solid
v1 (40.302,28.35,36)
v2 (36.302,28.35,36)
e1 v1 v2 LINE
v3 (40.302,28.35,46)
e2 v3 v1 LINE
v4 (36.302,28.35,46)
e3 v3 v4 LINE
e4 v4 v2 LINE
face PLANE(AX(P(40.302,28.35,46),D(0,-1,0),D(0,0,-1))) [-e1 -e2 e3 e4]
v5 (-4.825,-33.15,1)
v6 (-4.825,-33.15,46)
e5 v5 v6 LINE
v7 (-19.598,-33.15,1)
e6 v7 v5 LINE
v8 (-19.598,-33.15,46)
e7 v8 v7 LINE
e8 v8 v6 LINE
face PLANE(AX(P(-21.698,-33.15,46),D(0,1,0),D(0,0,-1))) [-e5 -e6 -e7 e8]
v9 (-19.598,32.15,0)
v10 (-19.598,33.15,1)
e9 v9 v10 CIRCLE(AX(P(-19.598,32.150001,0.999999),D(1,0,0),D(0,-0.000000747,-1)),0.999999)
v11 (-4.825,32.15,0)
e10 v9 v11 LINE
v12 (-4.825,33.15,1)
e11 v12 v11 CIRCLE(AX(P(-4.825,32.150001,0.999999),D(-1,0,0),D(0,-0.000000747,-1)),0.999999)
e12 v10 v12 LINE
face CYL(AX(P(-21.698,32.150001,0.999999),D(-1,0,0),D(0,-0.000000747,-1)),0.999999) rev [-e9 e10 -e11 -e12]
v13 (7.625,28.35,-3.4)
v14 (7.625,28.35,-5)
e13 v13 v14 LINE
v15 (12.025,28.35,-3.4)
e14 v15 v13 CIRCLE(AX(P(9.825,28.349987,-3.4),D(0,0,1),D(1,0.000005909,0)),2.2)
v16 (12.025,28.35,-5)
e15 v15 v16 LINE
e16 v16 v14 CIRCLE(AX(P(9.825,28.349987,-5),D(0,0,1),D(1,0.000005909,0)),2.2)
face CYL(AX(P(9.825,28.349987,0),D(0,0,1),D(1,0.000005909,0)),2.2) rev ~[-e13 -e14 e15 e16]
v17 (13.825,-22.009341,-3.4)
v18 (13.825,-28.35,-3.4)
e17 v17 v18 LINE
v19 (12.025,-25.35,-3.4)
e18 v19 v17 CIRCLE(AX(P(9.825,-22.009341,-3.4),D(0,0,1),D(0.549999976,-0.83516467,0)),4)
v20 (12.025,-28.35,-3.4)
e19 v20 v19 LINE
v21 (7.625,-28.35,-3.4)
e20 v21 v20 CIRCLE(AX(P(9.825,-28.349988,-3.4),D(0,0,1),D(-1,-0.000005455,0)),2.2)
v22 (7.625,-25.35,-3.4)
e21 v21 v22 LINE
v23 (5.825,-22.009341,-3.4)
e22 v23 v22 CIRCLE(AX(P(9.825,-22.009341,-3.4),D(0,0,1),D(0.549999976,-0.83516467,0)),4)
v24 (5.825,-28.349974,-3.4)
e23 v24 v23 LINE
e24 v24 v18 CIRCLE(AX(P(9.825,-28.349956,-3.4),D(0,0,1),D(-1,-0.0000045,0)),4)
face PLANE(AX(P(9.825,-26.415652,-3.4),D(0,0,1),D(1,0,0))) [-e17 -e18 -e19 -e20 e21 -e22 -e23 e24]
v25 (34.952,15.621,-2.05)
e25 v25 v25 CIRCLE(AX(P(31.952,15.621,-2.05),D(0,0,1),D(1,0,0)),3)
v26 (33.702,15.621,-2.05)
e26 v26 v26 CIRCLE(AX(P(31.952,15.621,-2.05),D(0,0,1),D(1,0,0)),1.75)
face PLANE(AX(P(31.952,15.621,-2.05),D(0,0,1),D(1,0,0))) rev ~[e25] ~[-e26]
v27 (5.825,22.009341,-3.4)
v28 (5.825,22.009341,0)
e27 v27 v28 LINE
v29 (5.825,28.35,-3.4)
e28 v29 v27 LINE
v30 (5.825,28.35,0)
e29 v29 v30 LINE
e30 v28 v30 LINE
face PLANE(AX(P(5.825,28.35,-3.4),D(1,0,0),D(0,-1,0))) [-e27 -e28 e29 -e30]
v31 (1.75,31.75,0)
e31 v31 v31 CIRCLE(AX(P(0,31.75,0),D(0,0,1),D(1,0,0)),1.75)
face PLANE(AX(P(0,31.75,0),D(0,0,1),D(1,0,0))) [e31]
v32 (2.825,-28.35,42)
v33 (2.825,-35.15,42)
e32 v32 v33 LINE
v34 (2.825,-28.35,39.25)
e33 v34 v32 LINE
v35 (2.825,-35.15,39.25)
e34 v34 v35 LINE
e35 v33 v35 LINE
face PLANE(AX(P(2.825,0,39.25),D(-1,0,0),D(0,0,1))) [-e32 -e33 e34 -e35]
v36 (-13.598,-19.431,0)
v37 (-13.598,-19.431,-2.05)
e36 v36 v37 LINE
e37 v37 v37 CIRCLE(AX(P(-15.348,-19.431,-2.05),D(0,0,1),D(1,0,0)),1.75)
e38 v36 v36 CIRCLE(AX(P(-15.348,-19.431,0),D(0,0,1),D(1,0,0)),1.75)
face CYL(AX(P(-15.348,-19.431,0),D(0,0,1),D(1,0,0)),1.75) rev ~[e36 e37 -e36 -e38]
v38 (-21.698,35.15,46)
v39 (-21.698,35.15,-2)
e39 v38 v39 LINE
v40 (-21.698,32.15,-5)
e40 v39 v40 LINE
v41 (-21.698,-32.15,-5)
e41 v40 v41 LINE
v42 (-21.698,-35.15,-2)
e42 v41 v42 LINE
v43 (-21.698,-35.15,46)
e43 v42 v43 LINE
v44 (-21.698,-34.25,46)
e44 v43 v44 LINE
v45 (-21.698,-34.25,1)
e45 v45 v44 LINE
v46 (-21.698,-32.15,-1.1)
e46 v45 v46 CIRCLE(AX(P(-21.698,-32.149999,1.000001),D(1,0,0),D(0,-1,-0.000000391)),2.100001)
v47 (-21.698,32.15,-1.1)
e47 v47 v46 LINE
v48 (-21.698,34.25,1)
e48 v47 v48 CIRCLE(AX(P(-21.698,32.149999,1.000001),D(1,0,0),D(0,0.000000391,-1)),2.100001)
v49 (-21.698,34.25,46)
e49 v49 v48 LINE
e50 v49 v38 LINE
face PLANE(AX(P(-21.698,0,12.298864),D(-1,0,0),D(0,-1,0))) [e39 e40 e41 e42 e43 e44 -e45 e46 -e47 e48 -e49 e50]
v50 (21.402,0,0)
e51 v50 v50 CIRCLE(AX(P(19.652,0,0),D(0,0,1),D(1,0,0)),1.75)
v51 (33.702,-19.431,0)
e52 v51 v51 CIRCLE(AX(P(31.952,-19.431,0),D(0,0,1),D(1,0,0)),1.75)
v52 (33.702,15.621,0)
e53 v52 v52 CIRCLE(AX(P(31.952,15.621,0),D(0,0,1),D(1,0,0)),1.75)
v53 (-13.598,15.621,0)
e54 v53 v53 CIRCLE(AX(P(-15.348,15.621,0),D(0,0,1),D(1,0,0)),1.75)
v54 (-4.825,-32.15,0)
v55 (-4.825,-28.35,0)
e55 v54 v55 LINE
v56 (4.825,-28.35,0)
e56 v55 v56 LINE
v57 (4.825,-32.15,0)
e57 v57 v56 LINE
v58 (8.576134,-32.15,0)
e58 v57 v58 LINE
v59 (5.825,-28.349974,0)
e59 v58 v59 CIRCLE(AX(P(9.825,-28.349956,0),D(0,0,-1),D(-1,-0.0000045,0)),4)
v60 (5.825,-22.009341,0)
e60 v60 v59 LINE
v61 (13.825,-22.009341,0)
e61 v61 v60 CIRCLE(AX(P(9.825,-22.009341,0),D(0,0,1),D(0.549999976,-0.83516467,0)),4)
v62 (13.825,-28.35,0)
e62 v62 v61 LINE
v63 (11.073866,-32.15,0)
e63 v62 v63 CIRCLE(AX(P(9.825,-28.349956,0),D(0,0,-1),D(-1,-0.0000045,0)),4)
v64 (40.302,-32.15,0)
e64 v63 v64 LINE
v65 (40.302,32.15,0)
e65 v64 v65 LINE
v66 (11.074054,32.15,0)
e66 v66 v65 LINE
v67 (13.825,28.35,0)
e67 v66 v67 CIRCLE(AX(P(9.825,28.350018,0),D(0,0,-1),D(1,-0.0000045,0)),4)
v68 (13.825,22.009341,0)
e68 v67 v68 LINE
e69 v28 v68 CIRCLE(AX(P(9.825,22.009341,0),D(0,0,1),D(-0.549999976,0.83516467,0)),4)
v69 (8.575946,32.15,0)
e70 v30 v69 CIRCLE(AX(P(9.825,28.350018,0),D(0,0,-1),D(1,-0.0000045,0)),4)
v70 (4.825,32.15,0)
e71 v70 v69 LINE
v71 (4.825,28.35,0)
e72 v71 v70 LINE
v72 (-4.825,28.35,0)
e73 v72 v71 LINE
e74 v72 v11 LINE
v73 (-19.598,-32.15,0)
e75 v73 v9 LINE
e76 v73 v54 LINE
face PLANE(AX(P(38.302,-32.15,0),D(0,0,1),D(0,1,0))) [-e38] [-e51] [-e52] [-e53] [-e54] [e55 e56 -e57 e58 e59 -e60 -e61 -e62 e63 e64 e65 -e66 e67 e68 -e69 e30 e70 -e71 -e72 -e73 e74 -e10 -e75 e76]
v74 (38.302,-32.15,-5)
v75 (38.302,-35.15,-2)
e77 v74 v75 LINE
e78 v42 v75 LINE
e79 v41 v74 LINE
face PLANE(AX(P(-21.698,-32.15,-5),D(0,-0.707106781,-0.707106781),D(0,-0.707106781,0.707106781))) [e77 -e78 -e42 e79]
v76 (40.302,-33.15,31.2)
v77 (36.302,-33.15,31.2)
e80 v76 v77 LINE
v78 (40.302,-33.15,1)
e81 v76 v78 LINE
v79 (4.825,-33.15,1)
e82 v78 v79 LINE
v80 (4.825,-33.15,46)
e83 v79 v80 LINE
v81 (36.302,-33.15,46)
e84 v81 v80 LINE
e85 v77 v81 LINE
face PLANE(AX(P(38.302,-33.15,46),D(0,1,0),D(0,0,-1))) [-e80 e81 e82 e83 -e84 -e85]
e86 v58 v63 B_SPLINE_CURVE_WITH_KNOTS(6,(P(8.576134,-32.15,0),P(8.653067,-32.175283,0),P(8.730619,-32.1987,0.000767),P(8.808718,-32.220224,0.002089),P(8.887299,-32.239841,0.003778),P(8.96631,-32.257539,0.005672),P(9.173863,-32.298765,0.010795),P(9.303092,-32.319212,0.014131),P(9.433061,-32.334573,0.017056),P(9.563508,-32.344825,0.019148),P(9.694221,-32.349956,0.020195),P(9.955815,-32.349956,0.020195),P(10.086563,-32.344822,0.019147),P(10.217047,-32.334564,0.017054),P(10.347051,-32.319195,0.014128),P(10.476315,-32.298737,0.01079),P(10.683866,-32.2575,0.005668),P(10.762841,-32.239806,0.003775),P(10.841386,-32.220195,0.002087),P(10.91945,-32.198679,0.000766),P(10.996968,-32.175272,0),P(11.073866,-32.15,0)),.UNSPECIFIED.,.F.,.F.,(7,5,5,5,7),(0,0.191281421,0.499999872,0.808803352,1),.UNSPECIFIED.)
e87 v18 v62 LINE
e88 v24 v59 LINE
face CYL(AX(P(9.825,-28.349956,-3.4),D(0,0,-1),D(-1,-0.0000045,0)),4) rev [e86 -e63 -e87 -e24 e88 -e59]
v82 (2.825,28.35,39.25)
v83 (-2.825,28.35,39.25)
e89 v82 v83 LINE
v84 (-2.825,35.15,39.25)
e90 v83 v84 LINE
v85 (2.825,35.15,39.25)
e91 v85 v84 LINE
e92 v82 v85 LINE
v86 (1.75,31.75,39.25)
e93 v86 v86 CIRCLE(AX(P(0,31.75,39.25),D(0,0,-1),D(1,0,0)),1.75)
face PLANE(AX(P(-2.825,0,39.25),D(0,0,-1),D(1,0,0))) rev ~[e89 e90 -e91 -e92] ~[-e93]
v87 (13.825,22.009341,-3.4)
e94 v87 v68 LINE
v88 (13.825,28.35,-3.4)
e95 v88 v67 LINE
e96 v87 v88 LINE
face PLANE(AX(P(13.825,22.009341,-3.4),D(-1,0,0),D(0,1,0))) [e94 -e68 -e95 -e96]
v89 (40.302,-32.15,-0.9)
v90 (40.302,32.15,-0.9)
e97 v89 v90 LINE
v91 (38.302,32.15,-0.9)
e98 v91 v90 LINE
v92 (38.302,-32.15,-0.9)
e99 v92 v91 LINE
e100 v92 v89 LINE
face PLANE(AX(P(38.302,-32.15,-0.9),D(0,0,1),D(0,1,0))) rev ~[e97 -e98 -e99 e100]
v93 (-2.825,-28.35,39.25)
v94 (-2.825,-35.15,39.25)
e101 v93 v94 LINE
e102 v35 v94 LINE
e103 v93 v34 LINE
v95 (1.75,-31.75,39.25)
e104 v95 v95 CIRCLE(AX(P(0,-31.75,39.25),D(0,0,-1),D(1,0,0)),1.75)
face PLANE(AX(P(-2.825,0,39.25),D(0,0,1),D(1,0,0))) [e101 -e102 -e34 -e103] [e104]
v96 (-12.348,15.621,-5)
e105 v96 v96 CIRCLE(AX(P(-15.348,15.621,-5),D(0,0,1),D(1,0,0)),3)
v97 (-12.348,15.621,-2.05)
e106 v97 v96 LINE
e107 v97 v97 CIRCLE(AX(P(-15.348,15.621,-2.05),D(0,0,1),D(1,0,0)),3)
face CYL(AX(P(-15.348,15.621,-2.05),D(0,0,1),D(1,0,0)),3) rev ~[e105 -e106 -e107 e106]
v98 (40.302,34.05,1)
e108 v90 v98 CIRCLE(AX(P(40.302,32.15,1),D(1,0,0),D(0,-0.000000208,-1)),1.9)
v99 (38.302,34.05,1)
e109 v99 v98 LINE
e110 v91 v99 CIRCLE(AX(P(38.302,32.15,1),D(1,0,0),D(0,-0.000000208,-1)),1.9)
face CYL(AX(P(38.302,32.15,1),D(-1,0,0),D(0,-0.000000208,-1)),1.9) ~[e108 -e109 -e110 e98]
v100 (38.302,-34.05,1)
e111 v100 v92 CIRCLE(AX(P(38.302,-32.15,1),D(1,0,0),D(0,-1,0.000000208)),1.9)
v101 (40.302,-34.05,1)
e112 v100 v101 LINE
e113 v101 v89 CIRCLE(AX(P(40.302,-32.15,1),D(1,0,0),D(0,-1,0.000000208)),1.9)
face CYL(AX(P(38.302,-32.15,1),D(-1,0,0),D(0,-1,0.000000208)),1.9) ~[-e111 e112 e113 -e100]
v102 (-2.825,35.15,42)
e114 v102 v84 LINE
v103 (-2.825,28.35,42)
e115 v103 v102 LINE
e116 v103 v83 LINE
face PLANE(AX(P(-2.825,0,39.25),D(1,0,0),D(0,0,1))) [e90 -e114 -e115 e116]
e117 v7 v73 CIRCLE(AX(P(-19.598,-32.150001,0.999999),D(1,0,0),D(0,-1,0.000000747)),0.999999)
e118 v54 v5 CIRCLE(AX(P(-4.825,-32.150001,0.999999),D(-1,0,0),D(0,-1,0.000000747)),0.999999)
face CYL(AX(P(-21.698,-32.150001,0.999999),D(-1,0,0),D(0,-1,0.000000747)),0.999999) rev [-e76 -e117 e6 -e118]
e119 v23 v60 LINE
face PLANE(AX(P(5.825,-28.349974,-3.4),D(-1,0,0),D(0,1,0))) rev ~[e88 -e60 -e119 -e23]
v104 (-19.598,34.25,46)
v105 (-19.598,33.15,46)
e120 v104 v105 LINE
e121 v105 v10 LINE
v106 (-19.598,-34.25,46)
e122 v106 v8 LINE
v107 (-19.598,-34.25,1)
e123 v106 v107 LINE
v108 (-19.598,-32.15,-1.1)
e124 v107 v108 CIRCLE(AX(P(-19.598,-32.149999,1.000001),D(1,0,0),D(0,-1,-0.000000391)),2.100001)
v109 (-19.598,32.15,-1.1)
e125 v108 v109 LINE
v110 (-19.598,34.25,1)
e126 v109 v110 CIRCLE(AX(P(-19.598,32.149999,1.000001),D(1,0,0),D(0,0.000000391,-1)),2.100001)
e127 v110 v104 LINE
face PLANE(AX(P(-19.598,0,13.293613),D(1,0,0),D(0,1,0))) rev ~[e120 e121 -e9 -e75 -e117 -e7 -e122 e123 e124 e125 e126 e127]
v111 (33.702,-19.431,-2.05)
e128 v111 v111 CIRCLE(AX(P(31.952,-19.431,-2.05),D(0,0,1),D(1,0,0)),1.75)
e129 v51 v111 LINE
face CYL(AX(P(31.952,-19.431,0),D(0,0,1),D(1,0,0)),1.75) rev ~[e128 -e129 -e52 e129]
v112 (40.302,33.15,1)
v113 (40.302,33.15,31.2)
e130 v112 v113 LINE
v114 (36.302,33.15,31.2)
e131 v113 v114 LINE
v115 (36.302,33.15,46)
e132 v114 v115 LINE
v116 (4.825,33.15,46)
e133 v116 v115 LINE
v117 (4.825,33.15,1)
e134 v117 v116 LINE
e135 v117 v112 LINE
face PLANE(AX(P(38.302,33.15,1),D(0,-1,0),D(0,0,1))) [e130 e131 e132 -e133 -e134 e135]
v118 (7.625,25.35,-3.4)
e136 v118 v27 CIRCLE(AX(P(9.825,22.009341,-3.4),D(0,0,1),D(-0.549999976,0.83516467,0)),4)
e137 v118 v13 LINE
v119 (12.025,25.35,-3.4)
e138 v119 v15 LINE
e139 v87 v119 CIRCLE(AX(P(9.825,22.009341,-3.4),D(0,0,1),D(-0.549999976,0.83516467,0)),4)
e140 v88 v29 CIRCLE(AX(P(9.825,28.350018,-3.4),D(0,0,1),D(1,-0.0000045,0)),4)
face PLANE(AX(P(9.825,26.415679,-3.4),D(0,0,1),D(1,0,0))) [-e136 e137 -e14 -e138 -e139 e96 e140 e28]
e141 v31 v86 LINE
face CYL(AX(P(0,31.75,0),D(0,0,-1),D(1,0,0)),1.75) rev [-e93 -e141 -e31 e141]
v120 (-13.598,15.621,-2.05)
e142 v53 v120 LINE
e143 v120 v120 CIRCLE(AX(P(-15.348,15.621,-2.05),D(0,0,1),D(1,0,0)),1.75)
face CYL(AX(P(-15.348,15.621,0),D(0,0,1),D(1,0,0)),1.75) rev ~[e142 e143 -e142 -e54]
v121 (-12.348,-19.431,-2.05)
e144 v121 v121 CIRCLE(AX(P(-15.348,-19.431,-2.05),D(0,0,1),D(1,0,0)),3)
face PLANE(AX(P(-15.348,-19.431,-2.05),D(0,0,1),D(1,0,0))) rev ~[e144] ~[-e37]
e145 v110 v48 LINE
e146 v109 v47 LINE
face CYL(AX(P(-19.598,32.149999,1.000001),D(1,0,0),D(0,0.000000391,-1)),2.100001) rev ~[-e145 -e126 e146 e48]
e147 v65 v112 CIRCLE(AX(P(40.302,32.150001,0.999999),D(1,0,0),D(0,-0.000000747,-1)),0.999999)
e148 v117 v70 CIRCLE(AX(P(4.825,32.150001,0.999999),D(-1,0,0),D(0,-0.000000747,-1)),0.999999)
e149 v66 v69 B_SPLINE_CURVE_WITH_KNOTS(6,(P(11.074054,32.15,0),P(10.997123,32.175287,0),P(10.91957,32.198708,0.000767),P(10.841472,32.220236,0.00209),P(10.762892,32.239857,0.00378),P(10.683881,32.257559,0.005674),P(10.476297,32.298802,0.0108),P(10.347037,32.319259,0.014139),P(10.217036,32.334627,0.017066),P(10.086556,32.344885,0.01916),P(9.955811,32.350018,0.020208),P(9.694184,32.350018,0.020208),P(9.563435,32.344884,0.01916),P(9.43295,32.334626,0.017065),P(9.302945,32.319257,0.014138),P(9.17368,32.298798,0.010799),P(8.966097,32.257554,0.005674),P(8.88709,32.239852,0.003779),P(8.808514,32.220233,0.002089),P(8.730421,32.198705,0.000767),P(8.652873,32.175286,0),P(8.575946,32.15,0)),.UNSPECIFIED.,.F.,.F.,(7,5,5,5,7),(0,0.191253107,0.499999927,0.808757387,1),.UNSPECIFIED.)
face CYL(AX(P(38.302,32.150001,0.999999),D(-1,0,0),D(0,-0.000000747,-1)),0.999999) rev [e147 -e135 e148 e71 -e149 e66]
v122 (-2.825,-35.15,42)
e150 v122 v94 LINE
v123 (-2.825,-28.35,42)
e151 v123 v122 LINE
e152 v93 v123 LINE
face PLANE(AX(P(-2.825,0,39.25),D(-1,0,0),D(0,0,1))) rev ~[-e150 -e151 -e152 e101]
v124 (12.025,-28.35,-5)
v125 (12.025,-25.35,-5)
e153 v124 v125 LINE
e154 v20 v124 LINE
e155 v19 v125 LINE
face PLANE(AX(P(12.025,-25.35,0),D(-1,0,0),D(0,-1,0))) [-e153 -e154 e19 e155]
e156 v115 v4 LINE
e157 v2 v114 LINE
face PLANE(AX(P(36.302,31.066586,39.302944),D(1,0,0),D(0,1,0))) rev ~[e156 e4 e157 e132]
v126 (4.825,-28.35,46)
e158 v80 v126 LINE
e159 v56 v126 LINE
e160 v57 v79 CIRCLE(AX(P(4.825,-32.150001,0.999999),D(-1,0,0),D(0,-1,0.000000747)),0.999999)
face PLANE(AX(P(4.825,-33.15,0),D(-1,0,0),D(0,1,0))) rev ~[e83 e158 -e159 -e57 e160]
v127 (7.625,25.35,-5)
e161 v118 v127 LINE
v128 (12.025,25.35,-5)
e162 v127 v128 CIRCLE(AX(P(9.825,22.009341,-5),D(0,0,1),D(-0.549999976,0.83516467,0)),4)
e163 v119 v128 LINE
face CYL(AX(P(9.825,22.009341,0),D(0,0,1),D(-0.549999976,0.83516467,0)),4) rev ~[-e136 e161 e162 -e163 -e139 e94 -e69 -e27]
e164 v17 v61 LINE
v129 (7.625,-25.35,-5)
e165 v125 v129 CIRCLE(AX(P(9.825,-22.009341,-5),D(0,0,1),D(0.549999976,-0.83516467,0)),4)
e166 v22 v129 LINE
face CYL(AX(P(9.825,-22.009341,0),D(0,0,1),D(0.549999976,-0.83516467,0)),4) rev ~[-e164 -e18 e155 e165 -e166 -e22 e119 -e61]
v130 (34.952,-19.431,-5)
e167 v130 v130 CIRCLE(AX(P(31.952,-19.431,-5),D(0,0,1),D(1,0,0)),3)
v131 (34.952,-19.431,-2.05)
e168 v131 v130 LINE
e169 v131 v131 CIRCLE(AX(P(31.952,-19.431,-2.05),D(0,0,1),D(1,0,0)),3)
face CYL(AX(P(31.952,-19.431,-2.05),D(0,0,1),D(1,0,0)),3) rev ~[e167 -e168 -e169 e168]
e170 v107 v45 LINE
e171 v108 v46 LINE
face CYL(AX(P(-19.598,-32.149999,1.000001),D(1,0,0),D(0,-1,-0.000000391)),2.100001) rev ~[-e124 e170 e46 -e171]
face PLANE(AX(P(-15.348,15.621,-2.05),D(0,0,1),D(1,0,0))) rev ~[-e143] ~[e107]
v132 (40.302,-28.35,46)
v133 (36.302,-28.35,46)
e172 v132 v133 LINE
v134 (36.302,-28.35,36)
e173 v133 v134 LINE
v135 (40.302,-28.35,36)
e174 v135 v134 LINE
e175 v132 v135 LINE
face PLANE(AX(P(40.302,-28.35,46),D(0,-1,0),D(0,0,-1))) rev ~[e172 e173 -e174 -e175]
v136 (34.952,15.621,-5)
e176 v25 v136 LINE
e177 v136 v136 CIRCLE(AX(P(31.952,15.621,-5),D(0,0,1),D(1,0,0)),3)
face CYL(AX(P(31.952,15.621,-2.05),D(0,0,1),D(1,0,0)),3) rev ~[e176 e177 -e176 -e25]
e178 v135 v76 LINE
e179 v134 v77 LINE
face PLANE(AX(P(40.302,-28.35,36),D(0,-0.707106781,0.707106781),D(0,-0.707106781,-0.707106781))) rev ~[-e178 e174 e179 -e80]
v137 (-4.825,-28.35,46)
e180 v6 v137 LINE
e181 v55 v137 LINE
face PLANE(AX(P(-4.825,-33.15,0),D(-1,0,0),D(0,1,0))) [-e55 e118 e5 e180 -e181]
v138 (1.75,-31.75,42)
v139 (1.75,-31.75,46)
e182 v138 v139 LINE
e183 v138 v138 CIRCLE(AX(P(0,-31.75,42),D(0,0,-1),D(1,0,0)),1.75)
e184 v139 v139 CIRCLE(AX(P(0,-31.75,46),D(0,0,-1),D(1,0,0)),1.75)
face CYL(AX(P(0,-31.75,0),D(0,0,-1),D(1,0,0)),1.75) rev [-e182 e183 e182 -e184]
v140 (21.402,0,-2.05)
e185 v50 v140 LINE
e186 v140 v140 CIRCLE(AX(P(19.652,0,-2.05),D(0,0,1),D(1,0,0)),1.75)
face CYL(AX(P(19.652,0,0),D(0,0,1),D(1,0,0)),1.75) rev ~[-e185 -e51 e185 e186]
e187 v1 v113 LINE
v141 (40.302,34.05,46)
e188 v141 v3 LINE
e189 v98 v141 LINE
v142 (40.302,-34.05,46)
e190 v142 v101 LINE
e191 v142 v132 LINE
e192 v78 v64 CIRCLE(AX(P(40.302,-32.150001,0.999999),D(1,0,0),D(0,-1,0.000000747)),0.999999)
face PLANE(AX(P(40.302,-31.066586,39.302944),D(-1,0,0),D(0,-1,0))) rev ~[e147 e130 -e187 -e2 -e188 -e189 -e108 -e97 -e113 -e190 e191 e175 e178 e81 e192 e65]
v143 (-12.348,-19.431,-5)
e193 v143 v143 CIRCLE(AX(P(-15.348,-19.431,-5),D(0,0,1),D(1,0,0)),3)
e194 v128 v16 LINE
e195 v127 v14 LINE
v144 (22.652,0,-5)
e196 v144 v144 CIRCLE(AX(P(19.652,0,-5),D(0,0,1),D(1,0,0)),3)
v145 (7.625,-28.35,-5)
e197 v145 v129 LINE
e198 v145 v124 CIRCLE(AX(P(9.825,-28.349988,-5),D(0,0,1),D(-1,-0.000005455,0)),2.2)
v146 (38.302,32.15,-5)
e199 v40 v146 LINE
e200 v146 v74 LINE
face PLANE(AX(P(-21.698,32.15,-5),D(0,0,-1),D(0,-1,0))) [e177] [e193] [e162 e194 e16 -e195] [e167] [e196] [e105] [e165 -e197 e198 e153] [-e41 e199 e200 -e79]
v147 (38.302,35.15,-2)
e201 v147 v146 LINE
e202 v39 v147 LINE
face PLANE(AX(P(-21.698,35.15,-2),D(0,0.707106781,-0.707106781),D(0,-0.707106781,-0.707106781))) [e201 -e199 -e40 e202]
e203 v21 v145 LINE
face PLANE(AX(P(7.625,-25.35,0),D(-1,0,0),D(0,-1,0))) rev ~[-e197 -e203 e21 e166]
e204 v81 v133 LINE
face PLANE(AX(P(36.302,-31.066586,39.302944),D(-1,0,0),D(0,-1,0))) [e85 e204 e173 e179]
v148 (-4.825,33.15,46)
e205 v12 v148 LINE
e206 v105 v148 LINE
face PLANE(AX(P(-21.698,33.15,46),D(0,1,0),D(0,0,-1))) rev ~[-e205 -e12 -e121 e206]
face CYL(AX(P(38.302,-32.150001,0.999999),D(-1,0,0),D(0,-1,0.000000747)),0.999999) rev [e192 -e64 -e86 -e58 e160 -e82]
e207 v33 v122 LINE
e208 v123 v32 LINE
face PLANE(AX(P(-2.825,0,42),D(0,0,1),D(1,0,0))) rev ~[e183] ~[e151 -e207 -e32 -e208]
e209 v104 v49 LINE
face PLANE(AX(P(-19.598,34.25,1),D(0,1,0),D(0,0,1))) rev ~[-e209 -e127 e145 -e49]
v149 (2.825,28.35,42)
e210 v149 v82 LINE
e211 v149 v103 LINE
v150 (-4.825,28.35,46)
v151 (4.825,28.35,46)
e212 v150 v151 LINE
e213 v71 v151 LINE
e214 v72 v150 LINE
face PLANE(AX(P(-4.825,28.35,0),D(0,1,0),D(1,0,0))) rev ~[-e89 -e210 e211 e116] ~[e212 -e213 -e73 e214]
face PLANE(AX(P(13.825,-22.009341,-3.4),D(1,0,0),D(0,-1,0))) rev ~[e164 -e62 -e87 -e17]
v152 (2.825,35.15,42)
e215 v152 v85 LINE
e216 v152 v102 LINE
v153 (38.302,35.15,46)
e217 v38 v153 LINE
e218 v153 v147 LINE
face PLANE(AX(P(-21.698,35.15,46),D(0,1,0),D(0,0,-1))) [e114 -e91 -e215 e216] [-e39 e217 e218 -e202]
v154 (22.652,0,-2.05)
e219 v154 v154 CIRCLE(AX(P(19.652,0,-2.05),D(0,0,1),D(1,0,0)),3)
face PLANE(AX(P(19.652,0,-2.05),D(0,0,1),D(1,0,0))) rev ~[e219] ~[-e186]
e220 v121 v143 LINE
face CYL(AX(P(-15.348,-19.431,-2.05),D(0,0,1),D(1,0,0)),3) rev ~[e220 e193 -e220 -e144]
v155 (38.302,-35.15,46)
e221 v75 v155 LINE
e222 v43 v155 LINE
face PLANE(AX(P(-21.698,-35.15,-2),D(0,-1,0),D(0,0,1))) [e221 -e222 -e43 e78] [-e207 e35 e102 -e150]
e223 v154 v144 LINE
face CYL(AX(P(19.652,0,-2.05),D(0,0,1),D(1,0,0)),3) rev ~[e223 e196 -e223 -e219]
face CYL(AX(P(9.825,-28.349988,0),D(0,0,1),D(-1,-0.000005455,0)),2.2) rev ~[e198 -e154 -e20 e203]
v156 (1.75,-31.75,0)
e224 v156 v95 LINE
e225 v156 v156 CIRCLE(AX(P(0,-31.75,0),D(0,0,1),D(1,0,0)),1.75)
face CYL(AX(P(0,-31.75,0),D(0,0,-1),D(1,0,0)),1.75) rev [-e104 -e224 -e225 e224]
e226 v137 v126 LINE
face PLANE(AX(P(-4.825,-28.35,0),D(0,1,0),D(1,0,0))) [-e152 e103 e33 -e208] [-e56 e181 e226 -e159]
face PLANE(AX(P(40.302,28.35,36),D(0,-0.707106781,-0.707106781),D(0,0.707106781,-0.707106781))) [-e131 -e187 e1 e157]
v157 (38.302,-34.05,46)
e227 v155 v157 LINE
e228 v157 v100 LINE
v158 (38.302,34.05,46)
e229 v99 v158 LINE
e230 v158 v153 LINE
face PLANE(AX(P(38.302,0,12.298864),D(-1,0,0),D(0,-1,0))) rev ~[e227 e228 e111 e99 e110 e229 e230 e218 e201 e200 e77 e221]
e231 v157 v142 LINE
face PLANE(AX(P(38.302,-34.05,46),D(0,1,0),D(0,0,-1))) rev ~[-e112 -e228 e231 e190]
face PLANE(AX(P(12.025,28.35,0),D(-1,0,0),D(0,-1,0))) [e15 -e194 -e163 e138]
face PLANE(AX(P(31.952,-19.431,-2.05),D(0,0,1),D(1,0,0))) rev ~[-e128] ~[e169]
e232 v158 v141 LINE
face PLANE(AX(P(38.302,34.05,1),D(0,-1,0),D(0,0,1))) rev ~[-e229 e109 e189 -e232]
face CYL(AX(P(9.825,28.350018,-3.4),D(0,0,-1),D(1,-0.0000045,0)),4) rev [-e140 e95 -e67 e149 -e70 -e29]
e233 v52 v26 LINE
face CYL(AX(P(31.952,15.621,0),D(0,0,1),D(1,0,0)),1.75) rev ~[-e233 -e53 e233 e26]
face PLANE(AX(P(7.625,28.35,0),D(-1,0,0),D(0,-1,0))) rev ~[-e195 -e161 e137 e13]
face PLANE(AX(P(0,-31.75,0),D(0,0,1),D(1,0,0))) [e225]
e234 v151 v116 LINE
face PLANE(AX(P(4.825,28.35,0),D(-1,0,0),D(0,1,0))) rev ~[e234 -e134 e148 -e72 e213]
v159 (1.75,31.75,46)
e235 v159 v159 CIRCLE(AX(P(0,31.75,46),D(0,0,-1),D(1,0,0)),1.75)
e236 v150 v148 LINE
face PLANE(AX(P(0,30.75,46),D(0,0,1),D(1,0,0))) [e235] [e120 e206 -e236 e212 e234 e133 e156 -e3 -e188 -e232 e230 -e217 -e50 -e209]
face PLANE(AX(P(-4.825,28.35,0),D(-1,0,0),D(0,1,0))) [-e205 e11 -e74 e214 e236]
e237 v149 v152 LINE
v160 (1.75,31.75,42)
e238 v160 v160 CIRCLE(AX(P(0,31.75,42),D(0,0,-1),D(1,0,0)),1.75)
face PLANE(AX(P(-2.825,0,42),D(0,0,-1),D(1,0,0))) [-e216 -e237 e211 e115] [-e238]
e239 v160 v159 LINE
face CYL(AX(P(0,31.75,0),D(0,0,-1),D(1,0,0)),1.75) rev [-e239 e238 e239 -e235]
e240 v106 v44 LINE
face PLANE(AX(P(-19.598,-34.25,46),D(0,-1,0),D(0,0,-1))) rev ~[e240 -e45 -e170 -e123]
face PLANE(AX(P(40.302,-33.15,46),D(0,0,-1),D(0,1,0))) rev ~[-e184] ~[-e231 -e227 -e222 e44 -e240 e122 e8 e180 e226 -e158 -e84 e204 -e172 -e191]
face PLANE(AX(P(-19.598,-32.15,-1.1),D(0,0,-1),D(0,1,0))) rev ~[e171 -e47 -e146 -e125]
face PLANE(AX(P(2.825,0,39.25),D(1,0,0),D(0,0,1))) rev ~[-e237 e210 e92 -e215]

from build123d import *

# Parameters (mm, degrees)
PAD018_DEPTH         = 60
POCKET023_DEPTH      = 2.101
SKETCH071_W          = 9.65
SKETCH071_H          = 4.8
PAD020_DEPTH         = 46
SKETCH073_R          = 1.75
POCKET026_DEPTH      = 46.001
SKETCH069_R          = 1.75
POCKET024_DEPTH      = 5.001
SKETCH070_R          = 3
POCKET025_DEPTH      = 2.951
POCKET042_DEPTH      = 49.401
SKETCH072_W          = 5.65
SKETCH072_H          = 2.75
POCKET027_DEPTH      = 35.151
POCKET027_DEPTH_BACK = 35.151
PAD019_DEPTH         = 2
PAD024_DEPTH         = 4


with BuildPart() as part:
    # Sketch066 → Pad018 (new body)
    with BuildSketch(Plane.YZ.offset(-21.698)):
        with BuildLine():
            ThreePointArc((-33.15, 1), (-32.857107, 0.292893), (-32.15, 0))
            Line((-32.15, 0), (32.15, 0))
            ThreePointArc((32.15, 0), (32.857107, 0.292893), (33.15, 1))
            Line((33.15, 46), (33.15, 1))
            Line((33.15, 46), (35.15, 46))
            Line((35.15, 46), (35.15, -2))
            Line((35.15, -2), (32.15, -5))
            Line((32.15, -5), (-32.15, -5))
            Line((-32.15, -5), (-35.15, -2))
            Line((-35.15, -2), (-35.15, 46))
            Line((-35.15, 46), (-33.15, 46))
            Line((-33.15, 46), (-33.15, 1))
        make_face()
    extrude(amount=PAD018_DEPTH)

    # Sketch067 → Pocket023 (cut, through all)
    with BuildSketch(Plane.YZ.offset(-19.598)):
        with BuildLine():
            Line((-34.25, 46), (-34.25, 1))
            ThreePointArc((-34.25, 1), (-33.634924, -0.484924), (-32.15, -1.1))
            Line((-32.15, -1.1), (32.15, -1.1))
            ThreePointArc((32.15, -1.1), (33.634924, -0.484924), (34.25, 1))
            Line((34.25, 1), (34.25, 46))
            Line((34.25, 46), (33.15, 46))
            Line((33.15, 46), (33.15, 1))
            ThreePointArc((32.15, 0), (32.857107, 0.292893), (33.15, 1))
            Line((-32.15, 0), (32.15, 0))
            ThreePointArc((-33.15, 1), (-32.857107, 0.292893), (-32.15, 0))
            Line((-33.15, 46), (-33.15, 1))
            Line((-34.25, 46), (-33.15, 46))
        make_face()
    extrude(amount=-POCKET023_DEPTH, mode=Mode.SUBTRACT)

    # Sketch071 → Pad020 (join)
    with BuildSketch(Plane.XY):
        with Locations((0, 30.75)):
            Rectangle(SKETCH071_W, SKETCH071_H)
        with Locations((0, -30.75)):
            Rectangle(SKETCH071_W, SKETCH071_H)
    extrude(amount=PAD020_DEPTH)

    # Sketch073 → Pocket026 (cut, through all)
    with BuildSketch(Plane.XY):
        with Locations((0, 31.75)):
            Circle(SKETCH073_R)
        with Locations((0, -31.75)):
            Circle(SKETCH073_R)
    extrude(amount=POCKET026_DEPTH, mode=Mode.SUBTRACT)

    # Sketch069 → Pocket024 (cut, through all)
    with BuildSketch(Plane.XY):
        with Locations((-15.348, 15.621)):
            Circle(SKETCH069_R)
        with Locations((31.952, 15.621)):
            Circle(SKETCH069_R)
        with Locations((19.652, 0)):
            Circle(SKETCH069_R)
        with Locations((31.952, -19.431)):
            Circle(SKETCH069_R)
        with Locations((-15.348, -19.431)):
            Circle(SKETCH069_R)
        with BuildLine():
            ThreePointArc((7.625, 25.35), (9.825, 18.009341), (12.025, 25.35))
            Line((12.025, 28.35), (12.025, 25.35))
            ThreePointArc((12.025, 28.35), (9.825, 30.549987), (7.625, 28.35))
            Line((7.625, 28.35), (7.625, 25.35))
        make_face()
        with BuildLine():
            ThreePointArc((12.025, -25.35), (9.825, -18.009341), (7.625, -25.35))
            Line((7.625, -25.35), (7.625, -28.35))
            ThreePointArc((7.625, -28.35), (9.825, -30.549988), (12.025, -28.35))
            Line((12.025, -25.35), (12.025, -28.35))
        make_face()
    extrude(amount=-POCKET024_DEPTH, mode=Mode.SUBTRACT)

    # Sketch070 → Pocket025 (cut, through all)
    with BuildSketch(Plane.XY.offset(-2.05)):
        with Locations((-15.348, 15.621)):
            Circle(SKETCH070_R)
        with Locations((19.652, 0)):
            Circle(SKETCH070_R)
        with Locations((31.952, 15.621)):
            Circle(SKETCH070_R)
        with Locations((-15.348, -19.431)):
            Circle(SKETCH070_R)
        with Locations((31.952, -19.431)):
            Circle(SKETCH070_R)
    extrude(amount=-POCKET025_DEPTH, mode=Mode.SUBTRACT)

    # Sketch → Pocket042 (cut, through all)
    with BuildSketch(Plane.XY.offset(-3.4)):
        with BuildLine():
            ThreePointArc((13.825, 28.35), (9.825, 32.350018), (5.825, 28.35))
            Line((5.825, 28.35), (5.825, 22.009341))
            Line((5.825, 22.009341), (13.825, 22.009341))
            Line((13.825, 22.009341), (13.825, 28.35))
        make_face()
        with BuildLine():
            ThreePointArc((5.825, -28.349974), (9.824987, -32.349956), (13.825, -28.35))
            Line((13.825, -22.009341), (13.825, -28.35))
            Line((5.825, -22.009341), (13.825, -22.009341))
            Line((5.825, -28.349974), (5.825, -22.009341))
        make_face()
    extrude(amount=POCKET042_DEPTH, mode=Mode.SUBTRACT)

    # Sketch072 → Pocket027 (cut, two sides)
    with BuildSketch(Plane.XZ) as pocket027_sk:
        with Locations((0, 40.625)):
            Rectangle(SKETCH072_W, SKETCH072_H)
    extrude(amount=-POCKET027_DEPTH, mode=Mode.SUBTRACT)
    extrude(pocket027_sk.sketch, amount=POCKET027_DEPTH_BACK, mode=Mode.SUBTRACT)

    # Sketch074 → Pad019 (join)
    with BuildSketch(Plane.YZ.offset(38.302)):
        with BuildLine():
            Line((-34.05, 46), (-34.05, 1))
            ThreePointArc((-34.05, 1), (-33.493503, -0.343503), (-32.15, -0.9))
            Line((-32.15, -0.9), (32.15, -0.9))
            ThreePointArc((32.15, -0.9), (33.493503, -0.343503), (34.05, 1))
            Line((34.05, 1), (34.05, 46))
            Line((33.15, 46), (34.05, 46))
            Line((33.15, 1), (33.15, 46))
            ThreePointArc((32.15, 0), (32.857107, 0.292893), (33.15, 1))
            Line((-32.15, 0), (32.15, 0))
            ThreePointArc((-33.15, 1), (-32.857107, 0.292893), (-32.15, 0))
            Line((-33.15, 46), (-33.15, 1))
            Line((-34.05, 46), (-33.15, 46))
        make_face()
    extrude(amount=PAD019_DEPTH)

    # Sketch082 → Pad024 (join)
    with BuildSketch(Plane.YZ.offset(40.302)):
        Polygon((-33.15, 46), (-28.35, 46), (-28.35, 36), (-33.15, 31.2), align=None)
        Polygon((33.15, 46), (28.35, 46), (28.35, 36), (33.15, 31.2), align=None)
    extrude(amount=-PAD024_DEPTH)


solid = part.part
